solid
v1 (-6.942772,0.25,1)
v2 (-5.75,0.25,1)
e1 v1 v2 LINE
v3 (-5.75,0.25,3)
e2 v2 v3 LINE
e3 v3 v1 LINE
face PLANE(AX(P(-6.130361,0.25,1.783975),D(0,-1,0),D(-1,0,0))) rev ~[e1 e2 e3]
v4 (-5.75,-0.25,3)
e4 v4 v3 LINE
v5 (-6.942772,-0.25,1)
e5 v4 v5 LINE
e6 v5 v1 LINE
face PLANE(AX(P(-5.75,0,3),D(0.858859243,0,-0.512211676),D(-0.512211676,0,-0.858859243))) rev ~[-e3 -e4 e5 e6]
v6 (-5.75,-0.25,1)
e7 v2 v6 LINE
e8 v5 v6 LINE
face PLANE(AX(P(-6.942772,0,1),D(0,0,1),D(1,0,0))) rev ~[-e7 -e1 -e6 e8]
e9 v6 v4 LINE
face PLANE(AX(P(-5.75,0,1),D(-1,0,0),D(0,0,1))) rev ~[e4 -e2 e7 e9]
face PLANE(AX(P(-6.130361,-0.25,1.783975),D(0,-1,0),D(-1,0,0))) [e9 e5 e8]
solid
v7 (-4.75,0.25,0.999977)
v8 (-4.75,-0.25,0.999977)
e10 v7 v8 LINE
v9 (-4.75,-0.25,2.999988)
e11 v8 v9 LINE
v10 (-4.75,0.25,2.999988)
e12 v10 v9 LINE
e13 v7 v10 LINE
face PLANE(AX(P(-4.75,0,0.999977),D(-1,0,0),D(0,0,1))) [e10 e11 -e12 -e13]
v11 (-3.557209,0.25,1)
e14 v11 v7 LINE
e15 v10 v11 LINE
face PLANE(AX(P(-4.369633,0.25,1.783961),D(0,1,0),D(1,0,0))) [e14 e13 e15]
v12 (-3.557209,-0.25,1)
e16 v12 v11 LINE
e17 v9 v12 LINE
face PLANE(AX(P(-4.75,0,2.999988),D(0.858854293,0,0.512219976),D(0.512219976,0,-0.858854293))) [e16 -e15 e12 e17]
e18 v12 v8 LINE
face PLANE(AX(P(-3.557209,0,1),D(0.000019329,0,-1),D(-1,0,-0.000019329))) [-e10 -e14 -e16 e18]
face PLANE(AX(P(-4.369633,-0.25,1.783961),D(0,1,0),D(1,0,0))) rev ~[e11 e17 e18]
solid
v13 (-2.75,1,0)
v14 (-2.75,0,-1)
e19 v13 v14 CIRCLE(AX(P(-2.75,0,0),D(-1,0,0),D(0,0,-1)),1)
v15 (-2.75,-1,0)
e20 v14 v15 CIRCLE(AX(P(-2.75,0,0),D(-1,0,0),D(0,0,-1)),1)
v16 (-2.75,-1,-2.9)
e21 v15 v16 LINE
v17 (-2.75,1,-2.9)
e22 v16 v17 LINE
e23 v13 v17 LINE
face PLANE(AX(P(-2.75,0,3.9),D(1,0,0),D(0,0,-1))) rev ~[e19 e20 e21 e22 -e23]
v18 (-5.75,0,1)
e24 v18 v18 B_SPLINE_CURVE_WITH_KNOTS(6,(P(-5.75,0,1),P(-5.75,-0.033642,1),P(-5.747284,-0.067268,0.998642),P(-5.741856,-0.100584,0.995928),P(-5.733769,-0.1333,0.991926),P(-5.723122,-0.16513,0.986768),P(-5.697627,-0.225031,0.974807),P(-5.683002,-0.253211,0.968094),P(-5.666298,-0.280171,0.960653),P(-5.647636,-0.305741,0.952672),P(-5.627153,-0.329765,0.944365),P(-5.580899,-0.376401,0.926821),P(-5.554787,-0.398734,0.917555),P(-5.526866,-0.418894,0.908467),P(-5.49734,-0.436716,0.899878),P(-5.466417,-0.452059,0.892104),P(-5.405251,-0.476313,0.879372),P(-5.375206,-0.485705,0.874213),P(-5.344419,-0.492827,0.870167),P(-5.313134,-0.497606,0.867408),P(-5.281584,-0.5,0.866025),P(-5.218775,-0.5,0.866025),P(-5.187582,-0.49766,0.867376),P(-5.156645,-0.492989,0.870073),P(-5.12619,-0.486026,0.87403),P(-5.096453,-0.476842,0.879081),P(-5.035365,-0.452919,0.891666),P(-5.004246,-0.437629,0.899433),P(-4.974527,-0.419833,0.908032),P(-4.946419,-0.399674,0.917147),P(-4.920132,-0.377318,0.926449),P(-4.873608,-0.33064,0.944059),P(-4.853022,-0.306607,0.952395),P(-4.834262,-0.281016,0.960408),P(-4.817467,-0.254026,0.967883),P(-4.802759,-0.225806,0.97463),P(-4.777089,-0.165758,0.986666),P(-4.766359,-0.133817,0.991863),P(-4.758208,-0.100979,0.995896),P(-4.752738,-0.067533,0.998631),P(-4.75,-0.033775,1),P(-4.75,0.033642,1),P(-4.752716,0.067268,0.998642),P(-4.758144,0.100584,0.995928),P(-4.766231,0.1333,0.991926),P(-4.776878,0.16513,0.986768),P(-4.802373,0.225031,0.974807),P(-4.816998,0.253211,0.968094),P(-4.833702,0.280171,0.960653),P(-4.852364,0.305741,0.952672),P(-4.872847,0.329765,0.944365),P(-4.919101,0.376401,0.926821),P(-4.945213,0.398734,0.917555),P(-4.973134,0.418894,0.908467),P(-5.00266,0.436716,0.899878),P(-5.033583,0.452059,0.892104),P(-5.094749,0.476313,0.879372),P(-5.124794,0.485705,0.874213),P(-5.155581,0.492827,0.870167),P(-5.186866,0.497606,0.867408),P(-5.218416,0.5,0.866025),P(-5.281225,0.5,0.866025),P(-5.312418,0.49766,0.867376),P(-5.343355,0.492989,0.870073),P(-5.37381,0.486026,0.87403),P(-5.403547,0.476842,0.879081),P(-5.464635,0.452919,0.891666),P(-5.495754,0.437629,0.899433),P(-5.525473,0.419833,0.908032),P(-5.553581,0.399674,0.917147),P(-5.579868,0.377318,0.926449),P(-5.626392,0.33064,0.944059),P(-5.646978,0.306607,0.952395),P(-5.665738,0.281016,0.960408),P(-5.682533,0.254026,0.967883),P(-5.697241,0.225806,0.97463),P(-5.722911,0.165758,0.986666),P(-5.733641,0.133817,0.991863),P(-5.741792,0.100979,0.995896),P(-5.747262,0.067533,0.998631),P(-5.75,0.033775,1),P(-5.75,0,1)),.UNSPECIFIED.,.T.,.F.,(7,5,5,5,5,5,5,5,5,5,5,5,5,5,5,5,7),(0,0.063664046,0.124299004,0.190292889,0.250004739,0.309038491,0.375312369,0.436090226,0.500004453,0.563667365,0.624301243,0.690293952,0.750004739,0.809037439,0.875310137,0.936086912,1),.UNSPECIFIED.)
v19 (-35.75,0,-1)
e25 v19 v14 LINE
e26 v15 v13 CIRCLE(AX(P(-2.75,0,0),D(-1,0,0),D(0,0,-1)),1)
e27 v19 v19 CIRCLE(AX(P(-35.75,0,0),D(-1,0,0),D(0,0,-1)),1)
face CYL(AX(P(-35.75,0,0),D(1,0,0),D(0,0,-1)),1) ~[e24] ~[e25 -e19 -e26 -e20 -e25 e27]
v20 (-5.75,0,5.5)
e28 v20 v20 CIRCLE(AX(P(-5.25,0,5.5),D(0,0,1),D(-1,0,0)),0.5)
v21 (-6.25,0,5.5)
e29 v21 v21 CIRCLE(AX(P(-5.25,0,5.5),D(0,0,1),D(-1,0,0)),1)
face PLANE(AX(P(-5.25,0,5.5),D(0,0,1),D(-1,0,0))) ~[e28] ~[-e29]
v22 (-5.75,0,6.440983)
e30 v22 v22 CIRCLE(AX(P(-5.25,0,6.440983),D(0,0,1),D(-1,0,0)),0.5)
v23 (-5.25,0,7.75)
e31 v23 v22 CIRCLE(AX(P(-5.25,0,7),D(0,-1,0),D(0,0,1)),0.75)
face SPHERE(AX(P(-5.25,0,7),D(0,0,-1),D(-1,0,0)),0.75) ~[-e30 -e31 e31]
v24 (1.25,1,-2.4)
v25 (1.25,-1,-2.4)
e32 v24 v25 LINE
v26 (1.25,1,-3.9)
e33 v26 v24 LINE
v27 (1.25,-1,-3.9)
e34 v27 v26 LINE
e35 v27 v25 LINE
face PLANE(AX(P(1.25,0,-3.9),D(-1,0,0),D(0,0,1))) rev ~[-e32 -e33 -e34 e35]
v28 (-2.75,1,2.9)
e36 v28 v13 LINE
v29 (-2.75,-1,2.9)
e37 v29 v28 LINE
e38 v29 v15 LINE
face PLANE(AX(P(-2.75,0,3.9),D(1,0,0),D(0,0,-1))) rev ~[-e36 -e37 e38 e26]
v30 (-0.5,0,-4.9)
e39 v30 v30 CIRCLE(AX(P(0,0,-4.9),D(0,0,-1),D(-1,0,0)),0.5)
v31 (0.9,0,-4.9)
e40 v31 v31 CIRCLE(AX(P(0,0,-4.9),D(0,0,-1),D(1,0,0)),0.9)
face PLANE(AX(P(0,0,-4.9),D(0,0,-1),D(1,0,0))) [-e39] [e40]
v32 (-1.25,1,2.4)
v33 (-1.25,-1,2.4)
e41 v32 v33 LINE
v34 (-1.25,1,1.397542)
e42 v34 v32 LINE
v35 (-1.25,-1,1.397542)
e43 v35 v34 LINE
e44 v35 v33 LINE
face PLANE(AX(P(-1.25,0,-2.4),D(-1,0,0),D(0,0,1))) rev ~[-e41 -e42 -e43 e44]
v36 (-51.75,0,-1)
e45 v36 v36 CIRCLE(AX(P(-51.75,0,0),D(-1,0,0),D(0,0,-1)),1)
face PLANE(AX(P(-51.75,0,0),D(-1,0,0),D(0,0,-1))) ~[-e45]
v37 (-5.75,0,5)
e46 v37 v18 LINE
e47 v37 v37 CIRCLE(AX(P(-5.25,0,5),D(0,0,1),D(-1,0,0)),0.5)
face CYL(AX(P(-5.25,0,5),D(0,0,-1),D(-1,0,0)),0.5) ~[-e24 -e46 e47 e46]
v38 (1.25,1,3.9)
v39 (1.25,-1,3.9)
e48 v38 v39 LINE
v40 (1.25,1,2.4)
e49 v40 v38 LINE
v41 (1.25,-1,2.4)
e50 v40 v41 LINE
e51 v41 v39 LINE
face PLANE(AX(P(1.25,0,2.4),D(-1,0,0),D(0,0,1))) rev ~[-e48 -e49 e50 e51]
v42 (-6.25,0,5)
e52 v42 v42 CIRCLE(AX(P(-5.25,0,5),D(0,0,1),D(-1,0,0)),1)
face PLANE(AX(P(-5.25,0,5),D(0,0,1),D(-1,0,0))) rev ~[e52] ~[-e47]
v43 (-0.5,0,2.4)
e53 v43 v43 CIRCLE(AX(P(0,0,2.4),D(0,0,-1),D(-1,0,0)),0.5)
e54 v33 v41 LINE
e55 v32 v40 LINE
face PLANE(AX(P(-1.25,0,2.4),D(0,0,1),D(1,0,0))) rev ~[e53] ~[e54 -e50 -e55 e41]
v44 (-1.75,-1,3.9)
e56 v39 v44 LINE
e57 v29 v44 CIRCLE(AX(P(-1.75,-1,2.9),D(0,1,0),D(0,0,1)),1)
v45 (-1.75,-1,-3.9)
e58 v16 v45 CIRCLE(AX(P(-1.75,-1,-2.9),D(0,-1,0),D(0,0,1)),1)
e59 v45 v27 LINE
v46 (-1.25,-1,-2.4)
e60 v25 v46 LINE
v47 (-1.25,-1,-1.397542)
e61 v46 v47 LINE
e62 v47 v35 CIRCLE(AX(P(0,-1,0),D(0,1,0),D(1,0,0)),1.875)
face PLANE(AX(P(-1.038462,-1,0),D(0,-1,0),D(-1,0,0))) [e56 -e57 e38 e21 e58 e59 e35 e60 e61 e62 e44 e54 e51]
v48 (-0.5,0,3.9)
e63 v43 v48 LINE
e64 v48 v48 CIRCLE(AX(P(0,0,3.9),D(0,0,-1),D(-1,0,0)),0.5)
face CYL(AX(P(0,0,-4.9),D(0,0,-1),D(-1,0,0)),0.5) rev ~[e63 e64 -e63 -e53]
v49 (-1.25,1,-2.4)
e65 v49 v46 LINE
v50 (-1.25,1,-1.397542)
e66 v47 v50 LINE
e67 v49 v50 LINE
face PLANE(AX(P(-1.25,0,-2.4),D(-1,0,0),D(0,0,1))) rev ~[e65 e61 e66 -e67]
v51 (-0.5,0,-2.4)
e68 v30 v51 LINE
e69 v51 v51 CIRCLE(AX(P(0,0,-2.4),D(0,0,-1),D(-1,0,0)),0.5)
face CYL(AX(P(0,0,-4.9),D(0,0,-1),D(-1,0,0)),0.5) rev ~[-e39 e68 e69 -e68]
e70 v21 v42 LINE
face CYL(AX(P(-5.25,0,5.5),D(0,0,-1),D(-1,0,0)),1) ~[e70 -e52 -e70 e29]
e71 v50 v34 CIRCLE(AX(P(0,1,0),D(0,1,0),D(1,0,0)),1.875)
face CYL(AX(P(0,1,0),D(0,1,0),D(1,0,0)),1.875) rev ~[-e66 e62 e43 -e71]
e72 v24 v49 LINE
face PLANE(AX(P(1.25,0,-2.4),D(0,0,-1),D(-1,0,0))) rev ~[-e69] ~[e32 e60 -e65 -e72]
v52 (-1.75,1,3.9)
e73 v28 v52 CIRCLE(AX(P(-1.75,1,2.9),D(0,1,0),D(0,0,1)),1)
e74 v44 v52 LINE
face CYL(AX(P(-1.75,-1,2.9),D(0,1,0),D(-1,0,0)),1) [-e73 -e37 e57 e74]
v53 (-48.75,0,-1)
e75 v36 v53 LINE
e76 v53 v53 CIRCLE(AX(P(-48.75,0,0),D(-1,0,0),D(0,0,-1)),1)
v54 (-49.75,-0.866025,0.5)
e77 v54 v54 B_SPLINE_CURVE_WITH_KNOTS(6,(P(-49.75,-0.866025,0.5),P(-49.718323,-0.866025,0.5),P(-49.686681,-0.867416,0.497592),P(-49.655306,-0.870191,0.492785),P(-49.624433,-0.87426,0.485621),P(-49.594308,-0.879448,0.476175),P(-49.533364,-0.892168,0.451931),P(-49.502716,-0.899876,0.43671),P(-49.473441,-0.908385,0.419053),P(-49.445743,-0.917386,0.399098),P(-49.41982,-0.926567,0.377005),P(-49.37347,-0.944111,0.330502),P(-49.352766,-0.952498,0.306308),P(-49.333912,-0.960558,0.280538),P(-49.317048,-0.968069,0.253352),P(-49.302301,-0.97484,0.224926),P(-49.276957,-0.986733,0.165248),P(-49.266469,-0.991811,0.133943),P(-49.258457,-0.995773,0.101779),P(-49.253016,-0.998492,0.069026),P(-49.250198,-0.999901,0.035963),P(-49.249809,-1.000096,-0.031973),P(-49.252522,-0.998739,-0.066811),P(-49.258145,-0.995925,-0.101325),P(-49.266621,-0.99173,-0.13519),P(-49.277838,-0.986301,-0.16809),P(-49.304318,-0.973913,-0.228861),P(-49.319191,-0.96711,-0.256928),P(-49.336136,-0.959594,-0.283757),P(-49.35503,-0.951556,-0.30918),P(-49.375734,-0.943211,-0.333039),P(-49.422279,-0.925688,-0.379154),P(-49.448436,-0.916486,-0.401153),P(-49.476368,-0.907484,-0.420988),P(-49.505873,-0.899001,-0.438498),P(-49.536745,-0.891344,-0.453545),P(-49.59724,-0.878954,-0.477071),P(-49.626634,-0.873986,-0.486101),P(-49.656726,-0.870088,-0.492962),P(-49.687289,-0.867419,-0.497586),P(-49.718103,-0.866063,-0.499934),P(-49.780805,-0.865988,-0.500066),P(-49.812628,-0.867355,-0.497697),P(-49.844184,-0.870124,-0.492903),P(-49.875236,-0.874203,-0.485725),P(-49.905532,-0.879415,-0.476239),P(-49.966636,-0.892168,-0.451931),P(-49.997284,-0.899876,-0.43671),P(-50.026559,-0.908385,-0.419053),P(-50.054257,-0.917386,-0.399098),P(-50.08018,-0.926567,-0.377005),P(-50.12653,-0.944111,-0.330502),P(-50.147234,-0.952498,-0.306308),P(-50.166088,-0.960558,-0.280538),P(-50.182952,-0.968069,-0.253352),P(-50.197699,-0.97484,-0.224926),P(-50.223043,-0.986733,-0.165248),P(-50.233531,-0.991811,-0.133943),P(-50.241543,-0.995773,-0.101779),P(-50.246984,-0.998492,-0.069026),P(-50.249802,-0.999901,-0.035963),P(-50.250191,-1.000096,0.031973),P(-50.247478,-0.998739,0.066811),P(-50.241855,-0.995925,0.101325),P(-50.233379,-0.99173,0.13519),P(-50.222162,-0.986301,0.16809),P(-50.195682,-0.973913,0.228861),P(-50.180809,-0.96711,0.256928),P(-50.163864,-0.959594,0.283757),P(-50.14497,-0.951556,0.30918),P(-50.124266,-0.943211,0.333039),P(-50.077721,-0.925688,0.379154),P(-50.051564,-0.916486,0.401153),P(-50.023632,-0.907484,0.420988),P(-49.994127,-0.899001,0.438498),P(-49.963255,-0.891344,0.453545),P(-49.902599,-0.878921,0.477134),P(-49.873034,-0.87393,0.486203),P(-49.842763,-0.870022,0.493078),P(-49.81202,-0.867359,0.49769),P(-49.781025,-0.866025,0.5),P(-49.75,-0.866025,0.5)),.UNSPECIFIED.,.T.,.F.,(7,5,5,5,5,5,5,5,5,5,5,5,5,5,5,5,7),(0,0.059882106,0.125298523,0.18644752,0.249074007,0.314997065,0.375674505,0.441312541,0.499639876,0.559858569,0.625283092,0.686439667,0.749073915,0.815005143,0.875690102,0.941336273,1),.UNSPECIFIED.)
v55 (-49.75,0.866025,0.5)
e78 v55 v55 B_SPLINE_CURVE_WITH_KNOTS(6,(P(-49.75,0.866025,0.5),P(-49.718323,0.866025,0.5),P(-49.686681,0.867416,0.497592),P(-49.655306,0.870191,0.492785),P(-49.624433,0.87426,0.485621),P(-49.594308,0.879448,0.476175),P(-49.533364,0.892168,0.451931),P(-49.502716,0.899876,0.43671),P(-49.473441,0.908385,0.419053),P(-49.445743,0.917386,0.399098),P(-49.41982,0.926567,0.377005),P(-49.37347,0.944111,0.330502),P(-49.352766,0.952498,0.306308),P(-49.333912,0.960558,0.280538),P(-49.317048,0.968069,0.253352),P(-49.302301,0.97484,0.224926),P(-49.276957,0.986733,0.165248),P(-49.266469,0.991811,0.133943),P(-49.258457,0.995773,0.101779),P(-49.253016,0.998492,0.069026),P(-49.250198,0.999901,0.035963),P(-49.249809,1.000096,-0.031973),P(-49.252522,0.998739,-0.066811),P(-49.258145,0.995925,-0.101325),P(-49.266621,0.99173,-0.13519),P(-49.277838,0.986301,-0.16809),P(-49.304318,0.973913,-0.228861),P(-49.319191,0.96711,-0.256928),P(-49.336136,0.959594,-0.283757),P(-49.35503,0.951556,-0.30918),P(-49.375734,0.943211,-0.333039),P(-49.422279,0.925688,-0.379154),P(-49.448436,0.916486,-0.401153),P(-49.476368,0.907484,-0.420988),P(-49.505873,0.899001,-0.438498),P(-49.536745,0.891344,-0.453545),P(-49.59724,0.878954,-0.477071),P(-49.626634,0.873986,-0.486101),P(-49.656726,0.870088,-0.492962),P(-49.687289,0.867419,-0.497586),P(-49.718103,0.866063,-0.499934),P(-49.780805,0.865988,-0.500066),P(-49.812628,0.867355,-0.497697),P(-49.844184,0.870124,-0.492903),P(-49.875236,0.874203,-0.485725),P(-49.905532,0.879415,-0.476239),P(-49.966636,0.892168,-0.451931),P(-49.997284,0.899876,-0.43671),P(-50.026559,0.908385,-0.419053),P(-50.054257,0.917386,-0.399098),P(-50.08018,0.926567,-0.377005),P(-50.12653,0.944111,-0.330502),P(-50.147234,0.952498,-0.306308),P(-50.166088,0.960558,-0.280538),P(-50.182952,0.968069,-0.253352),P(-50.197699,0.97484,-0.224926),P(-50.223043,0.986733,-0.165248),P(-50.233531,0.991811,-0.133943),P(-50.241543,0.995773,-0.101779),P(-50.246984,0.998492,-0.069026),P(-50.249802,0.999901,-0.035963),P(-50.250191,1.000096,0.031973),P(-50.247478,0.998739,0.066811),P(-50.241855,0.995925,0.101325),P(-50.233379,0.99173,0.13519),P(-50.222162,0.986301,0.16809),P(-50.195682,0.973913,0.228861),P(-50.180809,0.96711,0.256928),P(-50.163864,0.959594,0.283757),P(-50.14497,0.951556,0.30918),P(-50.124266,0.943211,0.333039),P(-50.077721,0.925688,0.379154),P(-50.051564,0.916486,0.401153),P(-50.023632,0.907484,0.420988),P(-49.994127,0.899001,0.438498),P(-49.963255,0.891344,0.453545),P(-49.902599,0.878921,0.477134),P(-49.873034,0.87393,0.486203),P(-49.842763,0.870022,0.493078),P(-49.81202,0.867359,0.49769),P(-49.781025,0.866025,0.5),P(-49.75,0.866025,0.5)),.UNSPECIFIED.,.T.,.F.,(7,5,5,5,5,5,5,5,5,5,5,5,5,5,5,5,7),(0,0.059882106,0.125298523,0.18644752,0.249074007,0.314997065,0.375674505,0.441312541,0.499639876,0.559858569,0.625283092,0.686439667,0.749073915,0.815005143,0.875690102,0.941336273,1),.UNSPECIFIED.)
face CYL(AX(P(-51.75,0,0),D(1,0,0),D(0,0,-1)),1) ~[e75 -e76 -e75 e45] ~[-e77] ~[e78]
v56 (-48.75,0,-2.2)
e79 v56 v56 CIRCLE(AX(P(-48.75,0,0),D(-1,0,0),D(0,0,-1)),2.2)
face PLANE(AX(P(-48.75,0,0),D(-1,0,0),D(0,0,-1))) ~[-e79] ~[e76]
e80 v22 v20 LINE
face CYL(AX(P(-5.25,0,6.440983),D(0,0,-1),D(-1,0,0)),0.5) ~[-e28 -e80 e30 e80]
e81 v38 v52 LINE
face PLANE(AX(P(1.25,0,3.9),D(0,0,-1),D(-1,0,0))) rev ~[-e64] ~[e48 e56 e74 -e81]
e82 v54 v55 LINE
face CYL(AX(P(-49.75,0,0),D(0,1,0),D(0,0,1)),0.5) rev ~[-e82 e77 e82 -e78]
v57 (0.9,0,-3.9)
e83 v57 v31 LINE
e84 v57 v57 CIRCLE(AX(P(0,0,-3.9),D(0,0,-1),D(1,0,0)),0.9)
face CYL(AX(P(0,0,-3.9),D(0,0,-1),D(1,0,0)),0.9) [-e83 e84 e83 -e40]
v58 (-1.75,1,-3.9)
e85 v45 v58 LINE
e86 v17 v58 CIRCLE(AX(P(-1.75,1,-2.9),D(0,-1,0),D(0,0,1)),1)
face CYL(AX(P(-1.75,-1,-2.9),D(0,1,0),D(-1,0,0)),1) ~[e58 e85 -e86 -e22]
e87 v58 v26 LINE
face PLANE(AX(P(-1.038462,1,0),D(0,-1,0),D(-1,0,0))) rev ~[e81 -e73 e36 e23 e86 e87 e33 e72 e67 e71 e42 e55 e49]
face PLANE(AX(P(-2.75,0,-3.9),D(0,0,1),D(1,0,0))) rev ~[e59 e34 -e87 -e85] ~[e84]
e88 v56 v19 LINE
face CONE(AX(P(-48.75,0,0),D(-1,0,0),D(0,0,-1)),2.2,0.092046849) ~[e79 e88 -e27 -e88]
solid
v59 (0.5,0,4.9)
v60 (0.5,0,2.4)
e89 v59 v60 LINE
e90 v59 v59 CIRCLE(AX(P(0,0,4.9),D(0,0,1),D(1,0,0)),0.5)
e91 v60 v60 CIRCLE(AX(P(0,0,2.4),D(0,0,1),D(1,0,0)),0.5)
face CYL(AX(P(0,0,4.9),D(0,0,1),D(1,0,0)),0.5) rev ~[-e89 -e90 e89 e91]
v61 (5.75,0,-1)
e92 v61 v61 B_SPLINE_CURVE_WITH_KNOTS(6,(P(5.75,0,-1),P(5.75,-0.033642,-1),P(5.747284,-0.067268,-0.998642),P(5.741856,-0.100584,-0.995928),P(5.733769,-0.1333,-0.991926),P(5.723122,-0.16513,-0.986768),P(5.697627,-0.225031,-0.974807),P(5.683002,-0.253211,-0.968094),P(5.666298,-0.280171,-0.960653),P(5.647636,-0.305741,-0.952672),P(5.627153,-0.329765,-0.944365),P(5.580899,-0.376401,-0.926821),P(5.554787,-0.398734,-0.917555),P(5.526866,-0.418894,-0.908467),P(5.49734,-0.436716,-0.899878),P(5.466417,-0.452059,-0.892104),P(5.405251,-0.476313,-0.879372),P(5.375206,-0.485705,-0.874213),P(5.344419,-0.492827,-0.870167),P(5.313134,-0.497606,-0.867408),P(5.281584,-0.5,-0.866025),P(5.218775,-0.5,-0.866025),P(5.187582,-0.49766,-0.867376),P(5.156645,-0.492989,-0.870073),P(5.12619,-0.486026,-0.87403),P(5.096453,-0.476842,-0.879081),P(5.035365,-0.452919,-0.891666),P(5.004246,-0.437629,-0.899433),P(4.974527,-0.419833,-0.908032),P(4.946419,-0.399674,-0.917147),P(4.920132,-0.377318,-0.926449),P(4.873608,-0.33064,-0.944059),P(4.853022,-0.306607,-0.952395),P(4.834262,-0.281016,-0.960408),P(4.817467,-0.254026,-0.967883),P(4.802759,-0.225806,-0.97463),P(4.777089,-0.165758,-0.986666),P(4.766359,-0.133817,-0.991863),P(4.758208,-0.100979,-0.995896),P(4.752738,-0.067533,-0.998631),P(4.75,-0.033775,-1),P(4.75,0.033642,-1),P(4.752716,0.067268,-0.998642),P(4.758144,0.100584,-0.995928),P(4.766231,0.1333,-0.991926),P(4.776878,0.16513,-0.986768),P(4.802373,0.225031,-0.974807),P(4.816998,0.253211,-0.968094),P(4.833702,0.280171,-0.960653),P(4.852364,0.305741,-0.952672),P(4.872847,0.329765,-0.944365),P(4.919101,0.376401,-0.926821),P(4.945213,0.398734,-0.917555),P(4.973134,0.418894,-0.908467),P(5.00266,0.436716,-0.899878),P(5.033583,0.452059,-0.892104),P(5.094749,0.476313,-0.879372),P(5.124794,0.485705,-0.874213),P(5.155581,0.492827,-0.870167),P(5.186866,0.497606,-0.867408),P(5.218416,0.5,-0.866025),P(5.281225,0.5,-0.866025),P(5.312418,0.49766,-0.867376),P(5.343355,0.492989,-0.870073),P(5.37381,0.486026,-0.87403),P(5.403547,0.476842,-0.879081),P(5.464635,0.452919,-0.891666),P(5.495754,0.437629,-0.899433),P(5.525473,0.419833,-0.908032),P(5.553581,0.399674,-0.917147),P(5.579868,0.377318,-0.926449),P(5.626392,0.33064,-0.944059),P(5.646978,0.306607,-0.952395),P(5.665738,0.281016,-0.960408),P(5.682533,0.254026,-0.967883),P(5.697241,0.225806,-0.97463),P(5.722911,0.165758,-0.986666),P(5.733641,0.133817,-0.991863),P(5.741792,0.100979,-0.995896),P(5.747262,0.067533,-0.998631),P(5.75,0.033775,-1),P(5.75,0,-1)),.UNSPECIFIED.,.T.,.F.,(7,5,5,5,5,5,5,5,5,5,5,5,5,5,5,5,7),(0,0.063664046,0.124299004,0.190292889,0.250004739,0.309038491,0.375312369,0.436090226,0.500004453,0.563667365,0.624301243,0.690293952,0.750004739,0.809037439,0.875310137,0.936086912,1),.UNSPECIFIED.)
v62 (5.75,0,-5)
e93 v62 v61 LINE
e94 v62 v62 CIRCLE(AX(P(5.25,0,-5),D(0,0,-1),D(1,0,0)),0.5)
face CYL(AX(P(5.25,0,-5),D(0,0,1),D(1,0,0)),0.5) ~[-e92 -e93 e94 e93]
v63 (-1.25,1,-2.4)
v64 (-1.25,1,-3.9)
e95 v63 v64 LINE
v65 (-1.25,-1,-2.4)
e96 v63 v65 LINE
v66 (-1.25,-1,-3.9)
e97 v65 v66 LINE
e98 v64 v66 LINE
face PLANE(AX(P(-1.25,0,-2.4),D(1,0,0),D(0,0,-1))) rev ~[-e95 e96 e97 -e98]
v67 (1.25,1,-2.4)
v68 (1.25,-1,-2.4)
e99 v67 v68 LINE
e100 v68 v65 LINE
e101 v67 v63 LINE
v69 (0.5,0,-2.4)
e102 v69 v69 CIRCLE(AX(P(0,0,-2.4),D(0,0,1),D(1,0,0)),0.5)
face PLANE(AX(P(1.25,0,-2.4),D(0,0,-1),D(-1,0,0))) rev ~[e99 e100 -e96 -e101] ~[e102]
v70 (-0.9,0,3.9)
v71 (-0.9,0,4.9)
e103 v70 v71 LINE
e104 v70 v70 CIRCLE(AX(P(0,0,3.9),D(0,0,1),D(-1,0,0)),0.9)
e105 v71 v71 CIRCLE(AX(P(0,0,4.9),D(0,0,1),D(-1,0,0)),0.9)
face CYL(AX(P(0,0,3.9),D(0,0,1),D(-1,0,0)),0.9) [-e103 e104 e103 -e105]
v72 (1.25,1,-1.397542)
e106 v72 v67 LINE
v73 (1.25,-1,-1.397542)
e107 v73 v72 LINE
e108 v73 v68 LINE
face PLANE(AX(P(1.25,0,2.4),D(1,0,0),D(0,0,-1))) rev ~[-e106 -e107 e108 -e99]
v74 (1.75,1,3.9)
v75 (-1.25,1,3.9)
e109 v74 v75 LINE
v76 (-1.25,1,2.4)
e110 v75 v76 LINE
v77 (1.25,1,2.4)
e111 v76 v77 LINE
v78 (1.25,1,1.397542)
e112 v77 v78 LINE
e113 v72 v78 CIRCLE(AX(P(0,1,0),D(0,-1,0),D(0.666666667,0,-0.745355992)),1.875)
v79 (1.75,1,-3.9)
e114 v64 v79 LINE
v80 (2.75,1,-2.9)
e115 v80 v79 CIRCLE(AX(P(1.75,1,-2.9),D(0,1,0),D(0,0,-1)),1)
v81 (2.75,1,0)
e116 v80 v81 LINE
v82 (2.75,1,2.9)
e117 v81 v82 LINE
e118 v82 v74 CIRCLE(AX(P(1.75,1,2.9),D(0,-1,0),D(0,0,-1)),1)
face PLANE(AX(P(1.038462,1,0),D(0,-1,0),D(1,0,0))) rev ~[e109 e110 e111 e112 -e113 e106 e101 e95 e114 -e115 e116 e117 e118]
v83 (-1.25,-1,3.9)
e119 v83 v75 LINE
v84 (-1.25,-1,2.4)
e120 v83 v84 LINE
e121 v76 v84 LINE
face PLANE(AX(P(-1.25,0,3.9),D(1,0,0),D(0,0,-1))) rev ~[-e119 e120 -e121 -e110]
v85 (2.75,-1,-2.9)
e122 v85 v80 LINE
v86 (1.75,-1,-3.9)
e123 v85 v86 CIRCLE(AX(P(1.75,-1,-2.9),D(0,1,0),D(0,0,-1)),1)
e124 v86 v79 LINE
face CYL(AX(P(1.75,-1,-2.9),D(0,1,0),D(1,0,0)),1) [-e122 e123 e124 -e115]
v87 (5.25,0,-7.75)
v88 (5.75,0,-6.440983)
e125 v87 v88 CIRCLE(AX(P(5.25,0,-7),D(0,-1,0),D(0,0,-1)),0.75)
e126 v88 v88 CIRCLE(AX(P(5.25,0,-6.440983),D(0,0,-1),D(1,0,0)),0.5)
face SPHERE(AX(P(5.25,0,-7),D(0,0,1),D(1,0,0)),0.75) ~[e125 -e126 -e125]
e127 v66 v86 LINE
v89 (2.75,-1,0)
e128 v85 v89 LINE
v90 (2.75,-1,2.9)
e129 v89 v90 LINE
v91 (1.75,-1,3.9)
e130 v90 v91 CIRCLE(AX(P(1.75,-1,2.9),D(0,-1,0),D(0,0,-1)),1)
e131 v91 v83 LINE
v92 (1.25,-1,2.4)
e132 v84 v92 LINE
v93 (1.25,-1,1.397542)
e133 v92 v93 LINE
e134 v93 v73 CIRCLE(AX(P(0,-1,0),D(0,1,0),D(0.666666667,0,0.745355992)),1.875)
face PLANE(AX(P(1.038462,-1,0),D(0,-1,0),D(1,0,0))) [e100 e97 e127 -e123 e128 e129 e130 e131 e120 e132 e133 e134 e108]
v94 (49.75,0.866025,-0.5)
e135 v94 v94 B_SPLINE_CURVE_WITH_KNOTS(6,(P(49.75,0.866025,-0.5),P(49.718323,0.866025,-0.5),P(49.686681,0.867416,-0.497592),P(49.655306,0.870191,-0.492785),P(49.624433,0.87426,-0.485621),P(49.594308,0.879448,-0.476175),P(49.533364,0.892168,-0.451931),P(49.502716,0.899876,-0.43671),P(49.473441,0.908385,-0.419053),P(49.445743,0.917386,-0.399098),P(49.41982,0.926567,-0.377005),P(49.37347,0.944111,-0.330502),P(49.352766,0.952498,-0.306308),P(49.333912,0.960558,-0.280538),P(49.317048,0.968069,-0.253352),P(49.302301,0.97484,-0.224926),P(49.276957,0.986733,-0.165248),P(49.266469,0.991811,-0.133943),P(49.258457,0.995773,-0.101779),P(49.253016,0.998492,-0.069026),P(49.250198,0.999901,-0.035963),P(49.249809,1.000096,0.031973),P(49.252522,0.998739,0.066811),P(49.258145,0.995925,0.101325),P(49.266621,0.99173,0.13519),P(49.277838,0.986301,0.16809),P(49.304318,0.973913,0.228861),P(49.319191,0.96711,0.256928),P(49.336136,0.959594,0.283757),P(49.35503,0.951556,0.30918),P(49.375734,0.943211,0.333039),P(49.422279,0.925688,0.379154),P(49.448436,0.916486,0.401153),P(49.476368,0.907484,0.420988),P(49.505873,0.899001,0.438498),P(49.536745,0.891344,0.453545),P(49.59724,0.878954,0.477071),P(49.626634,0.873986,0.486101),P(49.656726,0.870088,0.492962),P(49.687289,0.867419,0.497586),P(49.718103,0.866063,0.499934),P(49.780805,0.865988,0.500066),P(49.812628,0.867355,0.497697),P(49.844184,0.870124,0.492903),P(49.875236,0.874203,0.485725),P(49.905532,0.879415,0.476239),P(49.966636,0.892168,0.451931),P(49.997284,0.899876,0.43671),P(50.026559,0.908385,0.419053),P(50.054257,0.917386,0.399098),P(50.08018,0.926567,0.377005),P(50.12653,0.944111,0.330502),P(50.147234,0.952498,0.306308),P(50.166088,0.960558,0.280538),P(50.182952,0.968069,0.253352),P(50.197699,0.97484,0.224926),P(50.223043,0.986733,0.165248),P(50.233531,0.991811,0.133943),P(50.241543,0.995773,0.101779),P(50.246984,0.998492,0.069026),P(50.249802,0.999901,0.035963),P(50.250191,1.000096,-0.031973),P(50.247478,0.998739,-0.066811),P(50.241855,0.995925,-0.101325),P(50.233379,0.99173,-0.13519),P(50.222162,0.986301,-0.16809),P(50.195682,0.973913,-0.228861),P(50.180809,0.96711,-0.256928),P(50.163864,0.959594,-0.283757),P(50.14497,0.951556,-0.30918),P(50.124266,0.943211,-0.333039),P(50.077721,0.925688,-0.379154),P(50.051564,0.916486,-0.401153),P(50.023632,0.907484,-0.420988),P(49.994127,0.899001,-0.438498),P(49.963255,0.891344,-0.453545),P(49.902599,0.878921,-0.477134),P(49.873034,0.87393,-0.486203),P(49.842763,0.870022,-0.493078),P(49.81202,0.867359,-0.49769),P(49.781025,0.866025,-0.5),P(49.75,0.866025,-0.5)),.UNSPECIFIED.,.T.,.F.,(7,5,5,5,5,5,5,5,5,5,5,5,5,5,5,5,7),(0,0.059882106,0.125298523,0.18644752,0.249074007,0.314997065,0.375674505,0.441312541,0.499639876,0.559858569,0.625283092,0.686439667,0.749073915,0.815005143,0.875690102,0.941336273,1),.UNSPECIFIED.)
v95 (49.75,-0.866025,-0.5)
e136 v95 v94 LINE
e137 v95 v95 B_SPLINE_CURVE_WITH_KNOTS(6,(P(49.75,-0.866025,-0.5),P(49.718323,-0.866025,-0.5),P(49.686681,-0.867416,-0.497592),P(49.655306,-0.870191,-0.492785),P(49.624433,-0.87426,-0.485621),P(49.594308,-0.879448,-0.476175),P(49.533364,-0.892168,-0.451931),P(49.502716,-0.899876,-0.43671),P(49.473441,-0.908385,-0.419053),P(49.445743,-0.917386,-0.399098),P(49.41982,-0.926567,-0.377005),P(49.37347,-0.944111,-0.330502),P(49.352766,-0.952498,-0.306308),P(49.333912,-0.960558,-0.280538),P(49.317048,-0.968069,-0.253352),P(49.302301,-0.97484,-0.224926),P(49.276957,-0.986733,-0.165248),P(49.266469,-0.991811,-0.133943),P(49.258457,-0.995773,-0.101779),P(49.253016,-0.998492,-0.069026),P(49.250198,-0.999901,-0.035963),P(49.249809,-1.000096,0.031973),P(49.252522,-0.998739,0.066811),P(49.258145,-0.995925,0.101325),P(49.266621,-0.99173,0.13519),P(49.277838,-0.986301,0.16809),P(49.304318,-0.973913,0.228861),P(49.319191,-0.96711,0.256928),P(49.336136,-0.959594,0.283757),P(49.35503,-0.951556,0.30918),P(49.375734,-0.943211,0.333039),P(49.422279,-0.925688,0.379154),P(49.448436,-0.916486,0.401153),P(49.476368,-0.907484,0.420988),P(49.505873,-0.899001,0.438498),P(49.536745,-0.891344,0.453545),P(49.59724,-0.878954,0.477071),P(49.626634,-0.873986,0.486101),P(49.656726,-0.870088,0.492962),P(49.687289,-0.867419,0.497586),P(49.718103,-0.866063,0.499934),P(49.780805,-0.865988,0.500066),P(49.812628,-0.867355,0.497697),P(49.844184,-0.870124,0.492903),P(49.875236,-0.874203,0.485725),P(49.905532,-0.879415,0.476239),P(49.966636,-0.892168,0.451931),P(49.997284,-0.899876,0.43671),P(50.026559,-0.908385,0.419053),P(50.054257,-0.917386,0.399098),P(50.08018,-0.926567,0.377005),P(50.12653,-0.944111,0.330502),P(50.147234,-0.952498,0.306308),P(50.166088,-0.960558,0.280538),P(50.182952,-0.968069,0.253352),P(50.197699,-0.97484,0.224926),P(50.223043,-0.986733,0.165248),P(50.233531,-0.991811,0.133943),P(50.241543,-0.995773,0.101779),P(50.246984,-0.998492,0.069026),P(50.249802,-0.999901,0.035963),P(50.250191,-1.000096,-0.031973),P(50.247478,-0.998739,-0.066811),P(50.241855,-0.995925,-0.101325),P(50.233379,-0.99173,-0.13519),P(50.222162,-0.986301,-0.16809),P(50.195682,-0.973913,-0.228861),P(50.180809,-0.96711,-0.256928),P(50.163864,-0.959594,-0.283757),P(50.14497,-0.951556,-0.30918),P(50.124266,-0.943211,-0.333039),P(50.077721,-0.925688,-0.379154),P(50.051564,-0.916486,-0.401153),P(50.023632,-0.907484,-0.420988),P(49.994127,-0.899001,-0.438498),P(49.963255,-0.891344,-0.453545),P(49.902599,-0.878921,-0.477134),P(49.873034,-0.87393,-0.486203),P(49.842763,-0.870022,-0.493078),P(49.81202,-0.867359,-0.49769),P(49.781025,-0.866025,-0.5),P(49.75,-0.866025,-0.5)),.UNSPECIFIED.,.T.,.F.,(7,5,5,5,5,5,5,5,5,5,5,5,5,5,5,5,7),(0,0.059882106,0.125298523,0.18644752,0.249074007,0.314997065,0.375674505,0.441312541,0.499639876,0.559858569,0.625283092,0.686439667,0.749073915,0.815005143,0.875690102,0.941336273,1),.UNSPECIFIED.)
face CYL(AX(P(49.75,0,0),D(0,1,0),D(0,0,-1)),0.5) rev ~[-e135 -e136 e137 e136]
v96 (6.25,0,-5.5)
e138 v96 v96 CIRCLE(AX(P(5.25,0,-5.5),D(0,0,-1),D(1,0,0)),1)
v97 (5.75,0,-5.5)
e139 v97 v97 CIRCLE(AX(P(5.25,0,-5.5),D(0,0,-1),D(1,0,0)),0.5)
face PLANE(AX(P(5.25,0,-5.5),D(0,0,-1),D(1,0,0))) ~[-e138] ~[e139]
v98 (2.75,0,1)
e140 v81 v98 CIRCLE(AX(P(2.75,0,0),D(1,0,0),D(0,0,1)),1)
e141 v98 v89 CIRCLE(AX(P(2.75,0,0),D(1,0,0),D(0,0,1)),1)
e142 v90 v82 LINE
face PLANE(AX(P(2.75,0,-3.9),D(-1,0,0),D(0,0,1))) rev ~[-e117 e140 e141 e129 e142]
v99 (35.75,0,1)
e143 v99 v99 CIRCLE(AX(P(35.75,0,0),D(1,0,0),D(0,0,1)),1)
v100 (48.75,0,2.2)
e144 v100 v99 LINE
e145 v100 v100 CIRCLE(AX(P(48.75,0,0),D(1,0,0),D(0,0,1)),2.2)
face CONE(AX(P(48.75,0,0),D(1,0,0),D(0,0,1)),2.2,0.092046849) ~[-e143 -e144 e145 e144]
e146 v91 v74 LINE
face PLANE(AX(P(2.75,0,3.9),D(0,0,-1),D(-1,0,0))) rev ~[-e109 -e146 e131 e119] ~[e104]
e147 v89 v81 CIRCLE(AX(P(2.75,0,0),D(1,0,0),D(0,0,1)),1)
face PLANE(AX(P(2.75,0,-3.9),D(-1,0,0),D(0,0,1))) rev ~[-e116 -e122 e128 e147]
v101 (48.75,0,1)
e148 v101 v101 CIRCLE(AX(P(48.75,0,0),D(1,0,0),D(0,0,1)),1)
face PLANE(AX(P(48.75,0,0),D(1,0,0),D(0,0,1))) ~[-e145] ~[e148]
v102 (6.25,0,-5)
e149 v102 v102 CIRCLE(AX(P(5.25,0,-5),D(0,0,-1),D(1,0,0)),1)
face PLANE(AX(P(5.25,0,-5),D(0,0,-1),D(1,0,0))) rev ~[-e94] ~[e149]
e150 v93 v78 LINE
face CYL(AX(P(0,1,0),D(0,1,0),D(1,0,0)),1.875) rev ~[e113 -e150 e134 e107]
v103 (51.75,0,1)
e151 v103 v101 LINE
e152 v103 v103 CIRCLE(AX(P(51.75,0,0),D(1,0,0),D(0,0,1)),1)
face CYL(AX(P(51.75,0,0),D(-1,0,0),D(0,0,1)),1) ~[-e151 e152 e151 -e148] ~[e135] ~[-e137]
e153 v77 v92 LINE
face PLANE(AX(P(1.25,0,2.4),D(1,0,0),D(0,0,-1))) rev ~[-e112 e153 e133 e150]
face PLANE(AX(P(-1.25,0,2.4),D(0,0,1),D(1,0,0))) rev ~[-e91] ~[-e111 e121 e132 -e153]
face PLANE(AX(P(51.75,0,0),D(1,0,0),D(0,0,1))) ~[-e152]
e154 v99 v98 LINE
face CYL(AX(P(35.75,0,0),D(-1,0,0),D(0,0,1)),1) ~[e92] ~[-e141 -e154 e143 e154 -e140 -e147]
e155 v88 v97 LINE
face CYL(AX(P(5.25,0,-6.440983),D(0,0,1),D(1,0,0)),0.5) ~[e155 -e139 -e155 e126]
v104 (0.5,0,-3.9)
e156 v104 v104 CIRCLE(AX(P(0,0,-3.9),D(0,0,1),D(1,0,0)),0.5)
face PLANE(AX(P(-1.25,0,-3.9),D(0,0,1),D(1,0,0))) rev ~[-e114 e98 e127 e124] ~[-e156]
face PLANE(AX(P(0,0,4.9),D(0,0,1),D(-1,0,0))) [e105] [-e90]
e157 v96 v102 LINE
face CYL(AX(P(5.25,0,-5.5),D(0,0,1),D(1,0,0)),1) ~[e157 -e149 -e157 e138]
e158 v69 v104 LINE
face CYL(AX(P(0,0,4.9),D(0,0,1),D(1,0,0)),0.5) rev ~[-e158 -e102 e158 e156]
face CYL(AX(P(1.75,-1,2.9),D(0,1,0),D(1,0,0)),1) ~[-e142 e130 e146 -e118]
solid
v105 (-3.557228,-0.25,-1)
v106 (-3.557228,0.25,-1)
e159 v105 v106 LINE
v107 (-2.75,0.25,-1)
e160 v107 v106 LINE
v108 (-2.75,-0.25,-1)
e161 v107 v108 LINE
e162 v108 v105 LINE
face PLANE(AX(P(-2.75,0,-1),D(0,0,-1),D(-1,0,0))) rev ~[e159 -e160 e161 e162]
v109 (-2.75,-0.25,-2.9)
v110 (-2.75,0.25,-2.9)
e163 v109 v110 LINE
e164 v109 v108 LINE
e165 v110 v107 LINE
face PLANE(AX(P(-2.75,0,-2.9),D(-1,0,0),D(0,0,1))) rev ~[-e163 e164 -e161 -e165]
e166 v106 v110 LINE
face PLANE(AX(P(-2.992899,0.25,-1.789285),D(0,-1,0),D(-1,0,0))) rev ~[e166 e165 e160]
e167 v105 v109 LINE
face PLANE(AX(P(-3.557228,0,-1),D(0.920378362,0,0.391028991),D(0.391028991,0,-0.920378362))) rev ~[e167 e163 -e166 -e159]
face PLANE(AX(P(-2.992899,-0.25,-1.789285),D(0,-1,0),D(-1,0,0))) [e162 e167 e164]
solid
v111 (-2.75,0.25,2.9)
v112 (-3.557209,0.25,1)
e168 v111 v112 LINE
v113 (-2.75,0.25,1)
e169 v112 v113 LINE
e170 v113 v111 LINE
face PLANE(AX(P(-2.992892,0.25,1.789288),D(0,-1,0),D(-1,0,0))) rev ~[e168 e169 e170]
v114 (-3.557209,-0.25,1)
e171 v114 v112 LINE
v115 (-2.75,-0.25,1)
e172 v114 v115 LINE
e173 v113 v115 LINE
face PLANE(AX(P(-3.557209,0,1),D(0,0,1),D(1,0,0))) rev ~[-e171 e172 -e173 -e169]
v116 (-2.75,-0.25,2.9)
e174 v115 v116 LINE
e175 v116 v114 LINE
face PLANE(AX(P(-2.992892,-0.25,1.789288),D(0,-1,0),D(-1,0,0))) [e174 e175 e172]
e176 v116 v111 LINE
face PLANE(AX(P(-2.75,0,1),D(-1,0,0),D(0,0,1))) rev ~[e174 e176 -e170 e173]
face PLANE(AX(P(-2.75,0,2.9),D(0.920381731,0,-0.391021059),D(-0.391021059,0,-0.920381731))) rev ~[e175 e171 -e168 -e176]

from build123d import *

# Parameters (mm, degrees)
BOSS_EXTRUDE1_DEPTH    = 1
FILLET1_R              = 1
SKETCH4_R              = 0.9
BOSS_EXTRUDE2_DEPTH    = 1
SKETCH5_R              = 0.5
CUT_EXTRUDE1_DEPTH     = 54.319086639
BOSS_EXTRUDE16_DEPTH   = 0.25
BOSS_EXTRUDE16_2_DEPTH = 0.25
BOSS_EXTRUDE16_3_DEPTH = 0.25
BOSS_EXTRUDE16_4_DEPTH = 0.25
SKETCH12_R             = 0.5
CUT_EXTRUDE2_DEPTH     = 5.25
CIRPATTERN1_COUNT      = 2
SKETCH13_R             = 1.875
CUT_EXTRUDE3_DEPTH     = 10


with BuildPart() as part:
    # Sketch1 → Boss-Extrude1 (new, symmetric)
    with BuildSketch(Plane(origin=(0, 0, 0), x_dir=(1, 0, 0), z_dir=(0, 1, 0))):
        Polygon((1.25, 3.9), (1.25, 2.4), (-1.25, 2.4), (-1.25, -2.4), (1.25, -2.4), (1.25, -3.9), (-2.75, -3.9), (-2.75, 3.9), align=None)
    extrude(amount=BOSS_EXTRUDE1_DEPTH, both=True)

    # Sketch2 → Revolve1 (revolve)
    with BuildSketch(Plane.XY):
        Polygon((-2.75, 0), (-35.75, 0), (-51.75, 0), (-51.75, 1), (-48.75, 1), (-48.75, 2.2), (-35.75, 1), (-2.75, 1), align=None)
    revolve(axis=Axis((-2.75, 0, 0), (-1, 0, 0)))

    # Sketch3 → Revolve2 (revolve)
    with BuildSketch(Plane(origin=(0, 0, 0), x_dir=(1, 0, 0), z_dir=(0, 1, 0))):
        with BuildLine():
            Line((-5.25, 0), (-5.25, -7.75))
            ThreePointArc((-5.25, -7.75), (-4.549370731, -7.267616567), (-4.75, -6.440983006))
            Line((-4.75, -6.440983006), (-4.75, -5.5))
            Line((-4.75, -5.5), (-4.25, -5.5))
            Line((-4.25, -5.5), (-4.25, -5))
            Line((-4.25, -5), (-4.75, -5))
            Line((-4.75, -5), (-4.75, 0))
            Line((-4.75, 0), (-5.25, 0))
        make_face()
    revolve(axis=Axis((-5.25, 0, 0), (0, 0, 1)))

    # Fillet1
    fillet1_edges = [part.edges().sort_by_distance(p)[0] for p in [
        (-2.75, 0, -3.9),
        (-2.75, 0, 3.9),
    ]]
    fillet(fillet1_edges, radius=FILLET1_R)

    # Sketch4 → Boss-Extrude2 (add, symmetric)
    with BuildSketch(Plane(origin=(0, 0, -3.9), x_dir=(-1, 0, 0), z_dir=(0, 0, -1))):
        Circle(SKETCH4_R)
    extrude(amount=BOSS_EXTRUDE2_DEPTH, both=True)

    # Sketch5 → Cut-Extrude1 (cut, through all)
    with BuildSketch(Plane(origin=(0, 0, -4.9), x_dir=(-1, 0, 0), z_dir=(0, 0, -1))):
        Circle(SKETCH5_R)
    extrude(amount=-CUT_EXTRUDE1_DEPTH, mode=Mode.SUBTRACT)

    # Sketch12 → Cut-Extrude2 (cut, symmetric)
    with BuildSketch(Plane(origin=(0, 0, 0), x_dir=(1, 0, 0), z_dir=(0, 1, 0))):
        with Locations((-49.75, 0)):
            Circle(SKETCH12_R)
    extrude(amount=CUT_EXTRUDE2_DEPTH, both=True, mode=Mode.SUBTRACT)


with BuildPart() as body_2:
    # Sketch10 → Boss-Extrude16 (new, symmetric)
    with BuildSketch(Plane(origin=(0, 0, 0), x_dir=(1, 0, 0), z_dir=(0, 1, 0))):
        Polygon((-5.75, -1), (-6.942772111, -1), (-5.75, -3), align=None)
    extrude(amount=BOSS_EXTRUDE16_DEPTH, both=True)


with BuildPart() as body_3:
    # Sketch10 → Boss-Extrude16 2 (new, symmetric)
    with BuildSketch(Plane(origin=(0, 0, 0), x_dir=(1, 0, 0), z_dir=(0, 1, 0))):
        Polygon((-4.75, -0.999976945), (-4.75, -2.999988473), (-3.557208561, -1), align=None)
    extrude(amount=BOSS_EXTRUDE16_2_DEPTH, both=True)


with BuildPart() as body_4:
    # Sketch10 → Boss-Extrude16 3 (new, symmetric)
    with BuildSketch(Plane(origin=(0, 0, 0), x_dir=(1, 0, 0), z_dir=(0, 1, 0))):
        Polygon((-2.75, -1), (-3.557208561, -1), (-2.75, -2.9), align=None)
    extrude(amount=BOSS_EXTRUDE16_3_DEPTH, both=True)


with BuildPart() as body_5:
    # Sketch10 → Boss-Extrude16 4 (new, symmetric)
    with BuildSketch(Plane(origin=(0, 0, 0), x_dir=(1, 0, 0), z_dir=(0, 1, 0))):
        Polygon((-2.75, 2.9), (-3.557227889, 1), (-2.75, 1), align=None)
    extrude(amount=BOSS_EXTRUDE16_4_DEPTH, both=True)


with BuildPart() as cirpattern1_1:
    # CirPattern1: pattern copy
    add(part.part.rotate(Axis((0, 2.42, 0), (0, -1, 0)), 1 * 360 / CIRPATTERN1_COUNT))


with BuildPart() as cut_extrude3_tool:
    # Sketch13 → Cut-Extrude3 (new body)
    with BuildSketch(Plane(origin=(0, 1, 0), x_dir=(1, 0, 0), z_dir=(0, 1, 0))):
        Circle(SKETCH13_R)
    extrude(amount=-CUT_EXTRUDE3_DEPTH)


with BuildPart() as part_1:
    add(part.part)

    # Cut-Extrude3: cut by cut_extrude3_tool
    add(cut_extrude3_tool.part, mode=Mode.SUBTRACT)


with BuildPart() as cirpattern1_1_1:
    add(cirpattern1_1.part)

    # Cut-Extrude3: cut by cut_extrude3_tool
    add(cut_extrude3_tool.part, mode=Mode.SUBTRACT)


solid = Compound([body_2.part, body_3.part, body_4.part, body_5.part, part_1.part, cirpattern1_1_1.part])
